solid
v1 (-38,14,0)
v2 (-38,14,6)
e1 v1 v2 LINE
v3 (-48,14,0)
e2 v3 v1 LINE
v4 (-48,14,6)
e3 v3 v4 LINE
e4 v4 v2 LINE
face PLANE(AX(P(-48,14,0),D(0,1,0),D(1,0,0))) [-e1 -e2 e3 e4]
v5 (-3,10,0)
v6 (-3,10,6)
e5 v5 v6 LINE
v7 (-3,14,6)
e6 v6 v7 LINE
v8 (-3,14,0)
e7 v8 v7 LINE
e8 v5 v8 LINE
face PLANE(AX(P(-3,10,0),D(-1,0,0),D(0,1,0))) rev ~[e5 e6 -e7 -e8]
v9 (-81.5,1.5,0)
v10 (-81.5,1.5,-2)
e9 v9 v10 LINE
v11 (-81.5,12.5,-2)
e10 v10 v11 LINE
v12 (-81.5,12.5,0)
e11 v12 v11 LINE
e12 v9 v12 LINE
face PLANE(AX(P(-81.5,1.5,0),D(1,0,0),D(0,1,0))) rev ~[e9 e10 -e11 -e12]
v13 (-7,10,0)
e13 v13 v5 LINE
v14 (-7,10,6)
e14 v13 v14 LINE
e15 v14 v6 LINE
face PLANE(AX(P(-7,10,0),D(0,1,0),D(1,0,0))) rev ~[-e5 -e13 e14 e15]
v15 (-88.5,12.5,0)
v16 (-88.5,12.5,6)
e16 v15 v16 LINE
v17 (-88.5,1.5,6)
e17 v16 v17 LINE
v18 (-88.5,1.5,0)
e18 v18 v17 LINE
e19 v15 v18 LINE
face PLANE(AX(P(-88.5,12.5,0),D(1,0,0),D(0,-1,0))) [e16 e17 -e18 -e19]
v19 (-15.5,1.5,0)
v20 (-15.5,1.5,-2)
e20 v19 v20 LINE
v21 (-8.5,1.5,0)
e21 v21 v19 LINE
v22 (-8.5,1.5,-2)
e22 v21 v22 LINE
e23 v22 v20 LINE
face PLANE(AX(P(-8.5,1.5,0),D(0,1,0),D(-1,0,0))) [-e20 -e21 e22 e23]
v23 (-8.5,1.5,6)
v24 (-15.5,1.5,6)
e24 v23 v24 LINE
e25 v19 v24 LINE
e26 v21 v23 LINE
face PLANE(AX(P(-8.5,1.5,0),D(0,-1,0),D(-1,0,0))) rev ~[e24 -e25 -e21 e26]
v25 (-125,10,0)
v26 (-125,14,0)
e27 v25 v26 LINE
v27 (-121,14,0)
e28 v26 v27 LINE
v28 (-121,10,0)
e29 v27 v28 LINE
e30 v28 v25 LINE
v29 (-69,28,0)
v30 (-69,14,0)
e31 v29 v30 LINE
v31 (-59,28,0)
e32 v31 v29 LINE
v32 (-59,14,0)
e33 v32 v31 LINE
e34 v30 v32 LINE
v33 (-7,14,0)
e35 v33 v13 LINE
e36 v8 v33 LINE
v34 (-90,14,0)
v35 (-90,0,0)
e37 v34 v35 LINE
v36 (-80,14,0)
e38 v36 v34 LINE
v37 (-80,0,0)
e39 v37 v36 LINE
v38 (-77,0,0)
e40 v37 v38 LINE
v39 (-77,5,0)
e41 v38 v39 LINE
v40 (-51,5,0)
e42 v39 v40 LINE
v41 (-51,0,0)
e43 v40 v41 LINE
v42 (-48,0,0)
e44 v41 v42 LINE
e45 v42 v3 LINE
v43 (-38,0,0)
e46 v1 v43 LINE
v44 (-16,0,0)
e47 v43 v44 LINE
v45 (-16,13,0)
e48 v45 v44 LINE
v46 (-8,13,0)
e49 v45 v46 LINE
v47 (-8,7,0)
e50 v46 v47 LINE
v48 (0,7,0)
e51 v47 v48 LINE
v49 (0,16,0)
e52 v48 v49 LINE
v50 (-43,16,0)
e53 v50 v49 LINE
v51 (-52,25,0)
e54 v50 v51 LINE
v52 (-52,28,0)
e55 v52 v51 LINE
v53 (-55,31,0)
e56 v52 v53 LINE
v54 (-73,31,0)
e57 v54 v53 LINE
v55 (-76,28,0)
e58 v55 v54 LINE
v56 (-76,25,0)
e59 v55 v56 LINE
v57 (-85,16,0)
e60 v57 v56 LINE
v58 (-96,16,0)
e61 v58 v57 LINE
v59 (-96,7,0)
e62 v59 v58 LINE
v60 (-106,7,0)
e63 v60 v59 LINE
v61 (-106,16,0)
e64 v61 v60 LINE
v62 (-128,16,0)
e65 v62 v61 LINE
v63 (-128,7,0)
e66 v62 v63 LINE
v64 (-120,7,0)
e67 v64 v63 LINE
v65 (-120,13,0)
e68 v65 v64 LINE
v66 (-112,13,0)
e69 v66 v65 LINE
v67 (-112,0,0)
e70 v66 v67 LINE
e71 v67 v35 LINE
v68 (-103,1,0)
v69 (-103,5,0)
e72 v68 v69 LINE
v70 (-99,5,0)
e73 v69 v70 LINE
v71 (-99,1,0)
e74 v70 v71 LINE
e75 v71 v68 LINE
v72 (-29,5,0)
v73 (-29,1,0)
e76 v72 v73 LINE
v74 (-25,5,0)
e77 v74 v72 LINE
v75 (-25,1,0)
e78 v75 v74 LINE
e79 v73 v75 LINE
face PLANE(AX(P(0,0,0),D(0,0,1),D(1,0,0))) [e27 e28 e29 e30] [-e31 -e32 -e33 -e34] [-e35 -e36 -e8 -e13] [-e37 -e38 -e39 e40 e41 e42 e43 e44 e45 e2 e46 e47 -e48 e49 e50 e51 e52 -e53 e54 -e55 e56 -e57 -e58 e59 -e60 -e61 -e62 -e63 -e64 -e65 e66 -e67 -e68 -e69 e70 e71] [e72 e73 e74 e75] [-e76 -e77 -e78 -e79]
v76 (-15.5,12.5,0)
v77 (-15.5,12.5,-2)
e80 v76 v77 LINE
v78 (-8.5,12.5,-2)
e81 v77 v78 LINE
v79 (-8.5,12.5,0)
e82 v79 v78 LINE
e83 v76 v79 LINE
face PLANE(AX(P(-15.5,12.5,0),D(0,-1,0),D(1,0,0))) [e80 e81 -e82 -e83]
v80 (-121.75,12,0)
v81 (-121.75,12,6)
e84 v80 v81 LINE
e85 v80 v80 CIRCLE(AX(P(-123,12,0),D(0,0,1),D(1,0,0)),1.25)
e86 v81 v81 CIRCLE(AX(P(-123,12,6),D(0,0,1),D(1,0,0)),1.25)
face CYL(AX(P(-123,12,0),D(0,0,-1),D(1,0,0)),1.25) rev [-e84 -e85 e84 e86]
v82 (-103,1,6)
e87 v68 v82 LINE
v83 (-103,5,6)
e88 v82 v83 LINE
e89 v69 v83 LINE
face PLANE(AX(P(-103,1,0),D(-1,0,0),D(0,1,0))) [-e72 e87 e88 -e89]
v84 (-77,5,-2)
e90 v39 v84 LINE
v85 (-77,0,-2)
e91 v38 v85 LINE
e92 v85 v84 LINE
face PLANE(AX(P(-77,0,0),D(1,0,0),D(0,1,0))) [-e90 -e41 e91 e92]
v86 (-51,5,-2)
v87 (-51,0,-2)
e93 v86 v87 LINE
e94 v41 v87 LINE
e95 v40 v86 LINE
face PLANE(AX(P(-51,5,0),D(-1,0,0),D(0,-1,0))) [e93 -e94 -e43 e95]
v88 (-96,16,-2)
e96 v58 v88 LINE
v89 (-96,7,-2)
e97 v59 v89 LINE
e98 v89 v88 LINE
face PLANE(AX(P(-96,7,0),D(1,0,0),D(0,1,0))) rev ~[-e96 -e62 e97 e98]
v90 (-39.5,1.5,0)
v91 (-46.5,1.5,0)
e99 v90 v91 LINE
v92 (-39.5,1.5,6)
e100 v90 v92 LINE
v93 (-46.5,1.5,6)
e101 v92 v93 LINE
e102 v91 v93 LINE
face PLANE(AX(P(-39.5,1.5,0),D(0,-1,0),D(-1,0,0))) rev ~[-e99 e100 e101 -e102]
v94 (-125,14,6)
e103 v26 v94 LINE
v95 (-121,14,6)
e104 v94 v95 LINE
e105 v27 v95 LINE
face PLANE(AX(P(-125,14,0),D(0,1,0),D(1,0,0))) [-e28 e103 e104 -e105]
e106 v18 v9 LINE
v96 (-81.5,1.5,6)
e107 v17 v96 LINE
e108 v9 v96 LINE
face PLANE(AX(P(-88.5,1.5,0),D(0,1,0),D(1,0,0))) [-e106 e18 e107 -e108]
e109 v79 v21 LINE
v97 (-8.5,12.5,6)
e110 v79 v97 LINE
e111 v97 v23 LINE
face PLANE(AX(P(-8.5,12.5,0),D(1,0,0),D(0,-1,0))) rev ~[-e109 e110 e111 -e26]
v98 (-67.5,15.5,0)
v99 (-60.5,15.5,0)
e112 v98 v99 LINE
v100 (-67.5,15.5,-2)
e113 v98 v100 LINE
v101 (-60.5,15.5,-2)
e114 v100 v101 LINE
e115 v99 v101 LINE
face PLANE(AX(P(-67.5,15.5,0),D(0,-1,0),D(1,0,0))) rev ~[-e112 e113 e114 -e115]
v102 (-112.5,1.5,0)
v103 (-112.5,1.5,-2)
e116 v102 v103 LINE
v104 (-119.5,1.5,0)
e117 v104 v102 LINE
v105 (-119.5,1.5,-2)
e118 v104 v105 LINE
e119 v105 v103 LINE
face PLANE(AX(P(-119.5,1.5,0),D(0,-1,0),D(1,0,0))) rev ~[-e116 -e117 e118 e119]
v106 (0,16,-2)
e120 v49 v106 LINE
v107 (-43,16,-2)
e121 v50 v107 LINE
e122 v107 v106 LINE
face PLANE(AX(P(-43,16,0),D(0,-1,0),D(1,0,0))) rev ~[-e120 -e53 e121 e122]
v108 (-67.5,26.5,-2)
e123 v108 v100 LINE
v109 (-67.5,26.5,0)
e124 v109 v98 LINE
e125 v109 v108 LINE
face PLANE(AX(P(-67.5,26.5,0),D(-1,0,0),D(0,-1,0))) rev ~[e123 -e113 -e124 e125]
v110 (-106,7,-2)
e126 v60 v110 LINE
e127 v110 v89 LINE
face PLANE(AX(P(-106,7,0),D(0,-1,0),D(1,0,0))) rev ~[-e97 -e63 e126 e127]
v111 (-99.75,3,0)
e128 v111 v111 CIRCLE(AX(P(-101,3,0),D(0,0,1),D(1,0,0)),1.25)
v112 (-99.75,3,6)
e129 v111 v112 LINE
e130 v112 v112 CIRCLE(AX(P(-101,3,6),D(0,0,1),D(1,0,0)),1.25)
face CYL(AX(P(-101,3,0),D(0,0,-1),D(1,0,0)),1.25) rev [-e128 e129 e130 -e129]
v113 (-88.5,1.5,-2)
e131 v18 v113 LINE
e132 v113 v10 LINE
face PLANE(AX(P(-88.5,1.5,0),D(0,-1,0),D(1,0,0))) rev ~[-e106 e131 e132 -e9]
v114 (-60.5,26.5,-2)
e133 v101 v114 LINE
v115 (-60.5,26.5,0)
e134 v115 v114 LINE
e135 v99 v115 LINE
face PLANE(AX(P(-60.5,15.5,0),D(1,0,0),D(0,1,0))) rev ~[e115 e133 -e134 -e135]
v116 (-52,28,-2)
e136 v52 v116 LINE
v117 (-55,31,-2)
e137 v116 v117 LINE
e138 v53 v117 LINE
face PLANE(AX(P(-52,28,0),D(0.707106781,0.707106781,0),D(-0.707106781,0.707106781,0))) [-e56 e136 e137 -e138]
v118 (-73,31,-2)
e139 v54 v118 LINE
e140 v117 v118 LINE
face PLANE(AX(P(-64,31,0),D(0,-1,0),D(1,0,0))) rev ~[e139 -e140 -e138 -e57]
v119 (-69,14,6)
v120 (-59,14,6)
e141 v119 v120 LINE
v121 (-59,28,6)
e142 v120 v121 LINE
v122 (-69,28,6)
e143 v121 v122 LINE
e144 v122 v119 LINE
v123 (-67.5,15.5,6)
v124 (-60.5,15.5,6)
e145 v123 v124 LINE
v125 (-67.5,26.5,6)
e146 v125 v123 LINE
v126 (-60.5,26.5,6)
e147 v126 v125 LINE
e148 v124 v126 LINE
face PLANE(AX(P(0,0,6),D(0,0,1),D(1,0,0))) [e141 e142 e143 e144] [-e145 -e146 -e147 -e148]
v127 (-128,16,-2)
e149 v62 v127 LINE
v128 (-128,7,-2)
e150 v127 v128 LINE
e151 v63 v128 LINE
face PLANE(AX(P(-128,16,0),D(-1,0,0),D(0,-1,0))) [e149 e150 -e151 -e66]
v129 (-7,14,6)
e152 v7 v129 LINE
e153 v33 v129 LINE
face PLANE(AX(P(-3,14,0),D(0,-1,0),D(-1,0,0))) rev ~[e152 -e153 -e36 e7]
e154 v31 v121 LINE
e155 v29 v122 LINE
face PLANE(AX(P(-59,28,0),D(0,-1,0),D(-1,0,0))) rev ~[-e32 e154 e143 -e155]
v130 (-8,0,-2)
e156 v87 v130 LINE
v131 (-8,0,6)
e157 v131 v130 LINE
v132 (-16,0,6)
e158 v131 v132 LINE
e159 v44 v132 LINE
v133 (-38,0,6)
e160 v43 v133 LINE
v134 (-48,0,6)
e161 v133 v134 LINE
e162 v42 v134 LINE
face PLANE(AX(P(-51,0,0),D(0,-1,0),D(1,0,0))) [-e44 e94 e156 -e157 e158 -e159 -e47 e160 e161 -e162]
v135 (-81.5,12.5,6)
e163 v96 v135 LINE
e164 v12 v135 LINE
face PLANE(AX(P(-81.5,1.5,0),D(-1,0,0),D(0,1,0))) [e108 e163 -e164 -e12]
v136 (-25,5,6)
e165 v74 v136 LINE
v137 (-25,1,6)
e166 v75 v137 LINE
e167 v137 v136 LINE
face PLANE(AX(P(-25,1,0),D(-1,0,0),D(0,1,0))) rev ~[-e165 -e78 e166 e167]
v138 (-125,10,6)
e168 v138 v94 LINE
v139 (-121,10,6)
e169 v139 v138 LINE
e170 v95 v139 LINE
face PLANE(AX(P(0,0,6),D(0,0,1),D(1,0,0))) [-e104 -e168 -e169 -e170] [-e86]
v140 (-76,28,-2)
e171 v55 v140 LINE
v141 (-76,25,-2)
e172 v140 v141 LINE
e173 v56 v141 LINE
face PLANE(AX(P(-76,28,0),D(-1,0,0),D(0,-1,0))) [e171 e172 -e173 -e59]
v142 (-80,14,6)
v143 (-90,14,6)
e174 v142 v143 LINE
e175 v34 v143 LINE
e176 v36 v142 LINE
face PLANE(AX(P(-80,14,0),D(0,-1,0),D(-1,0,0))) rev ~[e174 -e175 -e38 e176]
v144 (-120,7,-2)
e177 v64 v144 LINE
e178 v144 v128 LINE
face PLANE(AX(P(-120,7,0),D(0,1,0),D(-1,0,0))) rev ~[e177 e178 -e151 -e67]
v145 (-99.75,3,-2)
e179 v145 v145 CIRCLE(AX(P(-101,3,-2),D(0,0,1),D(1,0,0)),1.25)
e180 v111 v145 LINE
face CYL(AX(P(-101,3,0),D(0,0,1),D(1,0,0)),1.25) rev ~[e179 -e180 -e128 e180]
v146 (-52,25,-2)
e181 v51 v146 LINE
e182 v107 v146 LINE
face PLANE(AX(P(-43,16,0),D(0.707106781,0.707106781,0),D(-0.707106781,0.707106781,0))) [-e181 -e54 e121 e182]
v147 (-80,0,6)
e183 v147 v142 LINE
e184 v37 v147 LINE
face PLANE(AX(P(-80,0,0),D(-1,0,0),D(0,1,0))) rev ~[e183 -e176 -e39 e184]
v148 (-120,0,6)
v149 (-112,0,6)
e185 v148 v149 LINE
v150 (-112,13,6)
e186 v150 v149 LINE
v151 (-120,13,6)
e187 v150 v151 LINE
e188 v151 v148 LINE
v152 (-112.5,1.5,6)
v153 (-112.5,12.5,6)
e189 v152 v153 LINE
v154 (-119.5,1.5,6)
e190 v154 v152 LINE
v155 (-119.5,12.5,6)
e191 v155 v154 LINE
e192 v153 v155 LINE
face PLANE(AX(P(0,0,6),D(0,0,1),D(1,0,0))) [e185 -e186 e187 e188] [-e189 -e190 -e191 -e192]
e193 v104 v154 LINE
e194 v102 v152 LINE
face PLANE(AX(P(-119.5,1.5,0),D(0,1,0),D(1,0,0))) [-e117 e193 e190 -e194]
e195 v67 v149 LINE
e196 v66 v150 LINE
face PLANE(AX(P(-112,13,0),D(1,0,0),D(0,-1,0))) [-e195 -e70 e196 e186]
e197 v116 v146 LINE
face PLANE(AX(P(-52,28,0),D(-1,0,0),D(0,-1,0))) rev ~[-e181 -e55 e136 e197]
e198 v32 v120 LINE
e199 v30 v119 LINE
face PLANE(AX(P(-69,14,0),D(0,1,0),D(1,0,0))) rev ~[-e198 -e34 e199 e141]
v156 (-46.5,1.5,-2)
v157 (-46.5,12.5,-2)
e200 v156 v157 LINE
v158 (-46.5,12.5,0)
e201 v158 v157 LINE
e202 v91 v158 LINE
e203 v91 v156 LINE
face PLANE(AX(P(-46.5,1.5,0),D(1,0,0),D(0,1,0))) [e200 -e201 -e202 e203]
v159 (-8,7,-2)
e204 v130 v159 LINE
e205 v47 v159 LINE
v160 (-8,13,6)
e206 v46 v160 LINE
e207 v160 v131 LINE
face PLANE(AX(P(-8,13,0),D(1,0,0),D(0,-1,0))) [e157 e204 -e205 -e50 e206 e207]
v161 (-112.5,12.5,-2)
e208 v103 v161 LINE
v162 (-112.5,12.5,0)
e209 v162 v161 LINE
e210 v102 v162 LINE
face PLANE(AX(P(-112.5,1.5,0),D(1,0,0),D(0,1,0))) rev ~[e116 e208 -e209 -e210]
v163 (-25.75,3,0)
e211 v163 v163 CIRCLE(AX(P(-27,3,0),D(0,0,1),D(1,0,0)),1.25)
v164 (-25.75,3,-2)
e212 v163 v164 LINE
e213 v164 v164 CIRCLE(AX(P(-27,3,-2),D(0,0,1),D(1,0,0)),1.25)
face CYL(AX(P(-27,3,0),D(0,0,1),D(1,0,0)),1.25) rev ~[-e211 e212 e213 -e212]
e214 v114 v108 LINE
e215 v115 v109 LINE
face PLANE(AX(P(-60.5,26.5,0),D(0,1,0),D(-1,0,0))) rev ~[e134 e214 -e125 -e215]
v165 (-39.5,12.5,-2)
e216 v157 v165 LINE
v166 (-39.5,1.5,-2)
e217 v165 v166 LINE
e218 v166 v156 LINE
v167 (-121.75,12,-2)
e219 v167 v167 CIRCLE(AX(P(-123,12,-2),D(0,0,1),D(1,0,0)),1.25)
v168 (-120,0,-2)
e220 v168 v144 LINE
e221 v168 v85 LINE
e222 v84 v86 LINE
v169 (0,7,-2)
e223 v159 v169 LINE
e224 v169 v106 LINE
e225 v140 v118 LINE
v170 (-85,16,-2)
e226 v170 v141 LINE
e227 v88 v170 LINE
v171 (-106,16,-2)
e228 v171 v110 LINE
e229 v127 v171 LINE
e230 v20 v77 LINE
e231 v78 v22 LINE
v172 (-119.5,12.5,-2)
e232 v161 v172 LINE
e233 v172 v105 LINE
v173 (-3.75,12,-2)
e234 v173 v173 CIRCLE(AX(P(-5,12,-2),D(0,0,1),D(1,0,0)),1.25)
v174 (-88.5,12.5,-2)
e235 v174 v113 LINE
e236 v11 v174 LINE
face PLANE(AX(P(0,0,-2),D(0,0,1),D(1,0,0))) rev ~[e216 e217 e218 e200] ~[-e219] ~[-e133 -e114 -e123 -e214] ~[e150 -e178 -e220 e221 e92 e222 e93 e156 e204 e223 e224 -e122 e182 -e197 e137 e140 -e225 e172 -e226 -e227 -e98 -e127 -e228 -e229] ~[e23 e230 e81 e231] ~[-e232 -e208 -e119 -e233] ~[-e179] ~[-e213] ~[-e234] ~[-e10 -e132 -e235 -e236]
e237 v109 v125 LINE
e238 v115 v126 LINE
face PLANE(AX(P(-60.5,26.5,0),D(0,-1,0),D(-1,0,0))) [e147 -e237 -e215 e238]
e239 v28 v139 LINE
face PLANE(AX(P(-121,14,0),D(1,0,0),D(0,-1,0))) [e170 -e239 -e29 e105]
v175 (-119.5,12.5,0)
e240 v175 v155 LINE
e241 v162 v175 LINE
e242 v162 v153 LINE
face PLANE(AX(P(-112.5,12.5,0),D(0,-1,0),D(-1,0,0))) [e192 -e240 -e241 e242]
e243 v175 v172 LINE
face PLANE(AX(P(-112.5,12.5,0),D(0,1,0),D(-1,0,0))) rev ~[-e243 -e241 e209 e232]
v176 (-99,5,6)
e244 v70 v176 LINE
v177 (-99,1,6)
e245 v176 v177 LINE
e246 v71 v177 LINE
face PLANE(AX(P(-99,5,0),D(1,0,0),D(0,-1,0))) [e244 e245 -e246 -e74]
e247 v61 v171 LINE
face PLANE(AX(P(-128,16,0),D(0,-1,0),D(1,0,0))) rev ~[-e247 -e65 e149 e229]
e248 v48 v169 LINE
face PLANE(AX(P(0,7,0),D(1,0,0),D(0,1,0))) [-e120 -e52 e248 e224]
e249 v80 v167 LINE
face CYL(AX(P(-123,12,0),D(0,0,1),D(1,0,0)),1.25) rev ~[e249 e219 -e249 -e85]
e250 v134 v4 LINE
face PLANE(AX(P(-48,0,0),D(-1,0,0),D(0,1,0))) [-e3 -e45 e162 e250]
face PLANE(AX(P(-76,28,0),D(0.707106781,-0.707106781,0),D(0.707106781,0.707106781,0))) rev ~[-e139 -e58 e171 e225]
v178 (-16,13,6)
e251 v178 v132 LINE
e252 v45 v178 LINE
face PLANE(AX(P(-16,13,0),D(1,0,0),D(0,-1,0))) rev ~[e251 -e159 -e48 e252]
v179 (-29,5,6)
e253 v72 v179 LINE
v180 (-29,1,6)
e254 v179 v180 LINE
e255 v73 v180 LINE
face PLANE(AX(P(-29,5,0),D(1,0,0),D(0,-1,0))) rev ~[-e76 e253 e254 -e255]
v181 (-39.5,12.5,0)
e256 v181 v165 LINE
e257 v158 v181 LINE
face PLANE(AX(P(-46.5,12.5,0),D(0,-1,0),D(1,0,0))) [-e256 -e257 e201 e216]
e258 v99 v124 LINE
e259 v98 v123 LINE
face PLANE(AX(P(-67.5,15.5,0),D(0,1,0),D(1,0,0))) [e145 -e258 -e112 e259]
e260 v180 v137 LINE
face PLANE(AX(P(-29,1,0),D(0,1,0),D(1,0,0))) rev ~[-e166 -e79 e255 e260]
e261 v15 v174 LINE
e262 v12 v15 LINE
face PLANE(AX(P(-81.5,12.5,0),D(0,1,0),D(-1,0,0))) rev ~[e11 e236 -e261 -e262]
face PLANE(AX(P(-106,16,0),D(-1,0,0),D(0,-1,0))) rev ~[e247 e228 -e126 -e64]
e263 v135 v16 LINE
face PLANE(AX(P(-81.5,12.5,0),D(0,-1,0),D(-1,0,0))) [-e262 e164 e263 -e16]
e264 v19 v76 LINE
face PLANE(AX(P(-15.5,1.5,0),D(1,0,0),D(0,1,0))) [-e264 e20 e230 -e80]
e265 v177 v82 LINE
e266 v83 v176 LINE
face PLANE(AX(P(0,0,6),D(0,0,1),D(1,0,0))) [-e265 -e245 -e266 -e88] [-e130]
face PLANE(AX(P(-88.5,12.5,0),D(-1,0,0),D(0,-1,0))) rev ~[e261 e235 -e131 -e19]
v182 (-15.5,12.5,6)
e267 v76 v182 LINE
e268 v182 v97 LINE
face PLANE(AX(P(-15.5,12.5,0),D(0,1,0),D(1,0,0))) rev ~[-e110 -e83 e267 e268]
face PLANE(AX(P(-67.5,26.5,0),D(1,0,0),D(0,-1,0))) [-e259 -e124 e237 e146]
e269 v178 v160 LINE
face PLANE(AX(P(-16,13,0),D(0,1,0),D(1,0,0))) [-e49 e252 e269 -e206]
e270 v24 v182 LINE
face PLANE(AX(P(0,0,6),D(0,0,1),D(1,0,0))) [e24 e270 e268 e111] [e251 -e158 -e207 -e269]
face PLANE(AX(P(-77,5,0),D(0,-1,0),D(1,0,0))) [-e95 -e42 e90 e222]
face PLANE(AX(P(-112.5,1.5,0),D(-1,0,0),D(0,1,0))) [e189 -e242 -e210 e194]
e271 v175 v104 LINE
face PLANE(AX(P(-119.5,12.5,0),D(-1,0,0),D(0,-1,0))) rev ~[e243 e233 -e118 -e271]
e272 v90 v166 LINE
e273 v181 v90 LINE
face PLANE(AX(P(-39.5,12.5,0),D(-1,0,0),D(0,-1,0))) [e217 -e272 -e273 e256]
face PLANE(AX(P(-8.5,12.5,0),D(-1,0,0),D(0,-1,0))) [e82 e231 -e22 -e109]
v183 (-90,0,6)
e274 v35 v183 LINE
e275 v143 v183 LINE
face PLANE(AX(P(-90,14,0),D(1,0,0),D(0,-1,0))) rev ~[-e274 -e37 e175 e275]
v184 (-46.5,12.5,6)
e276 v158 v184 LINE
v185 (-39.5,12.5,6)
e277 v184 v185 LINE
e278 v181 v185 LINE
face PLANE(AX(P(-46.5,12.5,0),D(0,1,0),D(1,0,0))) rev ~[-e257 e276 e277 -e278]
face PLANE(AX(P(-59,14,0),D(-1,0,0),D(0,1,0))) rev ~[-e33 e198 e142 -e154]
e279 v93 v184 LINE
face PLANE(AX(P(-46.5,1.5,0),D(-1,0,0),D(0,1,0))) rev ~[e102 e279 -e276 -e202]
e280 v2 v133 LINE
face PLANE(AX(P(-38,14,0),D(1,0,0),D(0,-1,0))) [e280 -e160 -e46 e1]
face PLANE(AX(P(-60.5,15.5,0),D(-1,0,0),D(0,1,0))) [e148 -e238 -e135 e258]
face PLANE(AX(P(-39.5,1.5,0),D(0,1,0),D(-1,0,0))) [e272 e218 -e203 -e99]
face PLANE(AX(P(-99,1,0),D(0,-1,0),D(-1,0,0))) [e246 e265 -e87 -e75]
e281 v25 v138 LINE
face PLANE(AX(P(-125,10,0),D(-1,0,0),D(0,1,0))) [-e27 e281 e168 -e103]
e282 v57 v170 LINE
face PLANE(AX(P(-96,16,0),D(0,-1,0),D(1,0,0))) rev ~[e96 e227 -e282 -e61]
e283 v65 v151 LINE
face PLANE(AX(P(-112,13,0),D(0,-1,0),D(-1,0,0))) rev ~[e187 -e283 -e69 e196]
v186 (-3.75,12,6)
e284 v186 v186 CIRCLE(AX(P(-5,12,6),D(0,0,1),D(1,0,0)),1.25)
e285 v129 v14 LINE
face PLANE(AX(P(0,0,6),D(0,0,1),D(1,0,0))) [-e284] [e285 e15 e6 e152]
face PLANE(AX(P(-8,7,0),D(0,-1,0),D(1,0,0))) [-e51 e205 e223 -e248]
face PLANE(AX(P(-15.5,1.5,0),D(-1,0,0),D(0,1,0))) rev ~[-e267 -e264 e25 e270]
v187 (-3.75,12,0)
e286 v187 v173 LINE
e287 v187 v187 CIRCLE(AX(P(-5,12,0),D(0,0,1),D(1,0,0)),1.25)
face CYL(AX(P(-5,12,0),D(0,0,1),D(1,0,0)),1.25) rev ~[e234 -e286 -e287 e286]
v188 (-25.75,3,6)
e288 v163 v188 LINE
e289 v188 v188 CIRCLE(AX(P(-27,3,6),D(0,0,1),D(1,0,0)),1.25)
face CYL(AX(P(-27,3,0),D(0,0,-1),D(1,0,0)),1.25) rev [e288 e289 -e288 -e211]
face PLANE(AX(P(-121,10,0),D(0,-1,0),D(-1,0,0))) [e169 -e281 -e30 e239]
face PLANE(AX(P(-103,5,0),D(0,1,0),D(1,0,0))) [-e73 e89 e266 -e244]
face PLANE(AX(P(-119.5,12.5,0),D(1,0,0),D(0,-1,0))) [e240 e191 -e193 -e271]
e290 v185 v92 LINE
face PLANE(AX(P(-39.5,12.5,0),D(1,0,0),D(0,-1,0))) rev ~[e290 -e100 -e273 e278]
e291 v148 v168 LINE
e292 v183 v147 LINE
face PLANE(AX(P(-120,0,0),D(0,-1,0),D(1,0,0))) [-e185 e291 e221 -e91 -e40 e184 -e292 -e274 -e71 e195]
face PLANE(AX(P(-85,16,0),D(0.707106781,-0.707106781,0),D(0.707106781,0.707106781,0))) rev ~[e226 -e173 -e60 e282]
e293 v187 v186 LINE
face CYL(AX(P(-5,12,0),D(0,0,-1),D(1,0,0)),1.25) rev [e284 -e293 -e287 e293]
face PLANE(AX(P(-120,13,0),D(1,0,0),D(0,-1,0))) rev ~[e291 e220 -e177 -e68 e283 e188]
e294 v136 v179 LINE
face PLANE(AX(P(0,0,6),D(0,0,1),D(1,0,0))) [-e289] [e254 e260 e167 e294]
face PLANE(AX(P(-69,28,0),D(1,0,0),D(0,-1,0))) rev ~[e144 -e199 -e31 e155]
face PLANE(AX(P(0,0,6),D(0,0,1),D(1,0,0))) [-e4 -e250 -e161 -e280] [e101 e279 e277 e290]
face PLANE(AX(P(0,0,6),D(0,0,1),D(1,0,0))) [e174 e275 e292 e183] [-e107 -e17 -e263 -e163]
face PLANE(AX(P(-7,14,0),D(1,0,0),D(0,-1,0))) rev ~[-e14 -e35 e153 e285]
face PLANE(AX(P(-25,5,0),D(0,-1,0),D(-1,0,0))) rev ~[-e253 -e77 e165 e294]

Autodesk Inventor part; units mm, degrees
ref_plane "YZ Plane" through (0, 0, 0) normal (1, 0, 0) x (0, 1, 0)
ref_plane "XZ Plane" through (0, 0, 0) normal (0, 1, 0) x (-1, 0, 0)
ref_plane "XY Plane" through (0, 0, 0) normal (0, 0, 1) x (1, 0, 0)
sketch "Sketch1" plane through (0, 0, 0) normal (0, 0, 1) x (1, 0, 0)
  line L0 (-64, 31) -> (-73, 31)
  line L1 (-76, 28) -> (-76, 25)
  line L2 (-85, 16) -> (-76, 25)
  line L3 (-76, 28) -> (-73, 31)
  line L4 (-64, 31) -> (-55, 31)
  line L5 (-52, 28) -> (-52, 25)
  line L6 (-43, 16) -> (-52, 25)
  line L7 (-52, 28) -> (-55, 31)
  line L8 (-43, 16) -> (0, 16)
  line L9 (-77, 0) -> (-77, 5)
  line L10 (-77, 5) -> (-51, 5)
  line L11 (-51, 5) -> (-51, 0)
  line L12 (-106, 16) -> (-106, 7)
  line L13 (-106, 7) -> (-96, 7)
  line L14 (-96, 7) -> (-96, 16)
  line L15 (-128, 16) -> (-106, 16)
  line L16 (-96, 16) -> (-85, 16)
  line L17 (-120, 0) -> (-120, 7)
  line L18 (-120, 7) -> (-128, 7)
  line L19 (-120, 0) -> (-77, 0)
  line L20 (-128, 16) -> (-128, 7)
  line L21 (-8, 0) -> (-8, 7)
  line L22 (-8, 7) -> (0, 7)
  line L23 (-51, 0) -> (-8, 0)
  line L24 (0, 7) -> (0, 16)
  point P0 (0, 0)
  dimension "d0" = 128
  dimension "d6" = 3
  dimension "d67" = 5
  dimension "d71" = 22
  dimension "d74" = 9
  dimension "d75" = 10
  dimension "d93" = 7
  dimension "d94" = 8
  dimension "d95" = 7
extrude "Extrusion1" add sketch "Sketch1" against normal blind 2
sketch "Sketch2" plane through (0, 0, 0) normal (0, 0, 1) x (1, 0, 0)
  line L0 (-121, 10) -> (-125, 10)
  line L1 (-125, 10) -> (-125, 14)
  line L2 (-125, 14) -> (-121, 14)
  line L3 (-121, 14) -> (-121, 10)
  line L4 (-90, 0) -> (-80, 0)
  line L5 (-80, 0) -> (-80, 14)
  line L6 (-80, 14) -> (-90, 14)
  line L7 (-90, 14) -> (-90, 0)
  line L8 (-99, 1) -> (-103, 1)
  line L9 (-103, 1) -> (-103, 5)
  line L10 (-103, 5) -> (-99, 5)
  line L11 (-99, 5) -> (-99, 1)
  line L12 (-7, 10) -> (-3, 10)
  line L13 (-3, 10) -> (-3, 14)
  line L14 (-3, 14) -> (-7, 14)
  line L15 (-7, 14) -> (-7, 10)
  line L16 (-29, 1) -> (-25, 1)
  line L17 (-25, 1) -> (-25, 5)
  line L18 (-25, 5) -> (-29, 5)
  line L19 (-29, 5) -> (-29, 1)
  line L20 (-112, 13) -> (-120, 13)
  line L21 (-120, 13) -> (-120, 0)
  line L22 (-112, 13) -> (-112, 0)
  circle A0 centre (-123, 12) radius 1.25
  circle A1 centre (-101, 3) radius 1.25
  circle A2 centre (-27, 3) radius 1.25
  circle A3 centre (-5, 12) radius 1.25
  line L23 (-120, 0) -> (-112, 0)
  line L24 (-119.5, 12.5) -> (-119.5, 1.5)
  line L25 (-119.5, 1.5) -> (-112.5, 1.5)
  line L26 (-112.5, 1.5) -> (-112.5, 12.5)
  line L27 (-112.5, 12.5) -> (-119.5, 12.5)
  line L28 (-88.5, 12.5) -> (-88.5, 1.5)
  line L29 (-88.5, 1.5) -> (-81.5, 1.5)
  line L30 (-81.5, 1.5) -> (-81.5, 12.5)
  line L31 (-81.5, 12.5) -> (-88.5, 12.5)
  line L32 (-69, 14) -> (-59, 14)
  line L33 (-59, 14) -> (-59, 28)
  line L34 (-59, 28) -> (-69, 28)
  line L35 (-69, 28) -> (-69, 14)
  line L36 (-67.5, 26.5) -> (-67.5, 15.5)
  line L37 (-67.5, 15.5) -> (-60.5, 15.5)
  line L38 (-60.5, 15.5) -> (-60.5, 26.5)
  line L39 (-60.5, 26.5) -> (-67.5, 26.5)
  line L40 (-38, 0) -> (-48, 0)
  line L41 (-48, 0) -> (-48, 14)
  line L42 (-48, 14) -> (-38, 14)
  line L43 (-38, 14) -> (-38, 0)
  line L44 (-16, 13) -> (-8, 13)
  line L45 (-8, 13) -> (-8, 0)
  line L46 (-16, 13) -> (-16, 0)
  line L47 (-8, 0) -> (-16, 0)
  line L48 (-8.5, 12.5) -> (-8.5, 1.5)
  line L49 (-8.5, 1.5) -> (-15.5, 1.5)
  line L50 (-15.5, 1.5) -> (-15.5, 12.5)
  line L51 (-15.5, 12.5) -> (-8.5, 12.5)
  line L52 (-39.5, 12.5) -> (-39.5, 1.5)
  line L53 (-39.5, 1.5) -> (-46.5, 1.5)
  line L54 (-46.5, 1.5) -> (-46.5, 12.5)
  line L55 (-46.5, 12.5) -> (-39.5, 12.5)
  dimension "d49" = 2.5
  dimension "d50" = 2.5
  dimension "d51" = 2.5
  dimension "d52" = 2.5
  dimension "d69" = 13
sketch "Sketch10" plane through (0, 0, 0) normal (0, 0, 1) x (1, 0, 0)
  line L0 (-121, 10) -> (-125, 10)
  line L1 (-125, 10) -> (-125, 14)
  line L2 (-125, 14) -> (-121, 14)
  line L3 (-121, 14) -> (-121, 10)
  line L4 (-25, 1) -> (-25, 5)
  line L5 (-7, 14) -> (-7, 10)
  line L6 (-7, 10) -> (-3, 10)
  line L7 (-3, 10) -> (-3, 14)
  line L8 (-3, 14) -> (-7, 14)
  line L9 (-29, 1) -> (-25, 1)
  line L10 (-25, 5) -> (-29, 5)
  line L11 (-29, 5) -> (-29, 1)
  circle A0 centre (-123, 12) radius 1.25
  circle A1 centre (-27, 3) radius 1.25
  circle A2 centre (-5, 12) radius 1.25
  line L12 (-90, 0) -> (-80, 0)
  line L13 (-80, 0) -> (-80, 14)
  line L14 (-80, 14) -> (-90, 14)
  line L15 (-90, 14) -> (-90, 0)
  line L16 (-99, 1) -> (-103, 1)
  line L17 (-103, 1) -> (-103, 5)
  line L18 (-103, 5) -> (-99, 5)
  line L19 (-99, 5) -> (-99, 1)
  line L20 (-112, 13) -> (-120, 13)
  line L21 (-120, 13) -> (-120, 0)
  line L22 (-112, 13) -> (-112, 0)
  circle A3 centre (-101, 3) radius 1.25
  line L23 (-120, 0) -> (-112, 0)
  line L24 (-119.5, 12.5) -> (-119.5, 1.5)
  line L25 (-119.5, 1.5) -> (-112.5, 1.5)
  line L26 (-112.5, 1.5) -> (-112.5, 12.5)
  line L27 (-112.5, 12.5) -> (-119.5, 12.5)
  line L28 (-88.5, 12.5) -> (-88.5, 1.5)
  line L29 (-88.5, 1.5) -> (-81.5, 1.5)
  line L30 (-81.5, 1.5) -> (-81.5, 12.5)
  line L31 (-81.5, 12.5) -> (-88.5, 12.5)
  line L32 (-69, 14) -> (-59, 14)
  line L33 (-59, 14) -> (-59, 28)
  line L34 (-59, 28) -> (-69, 28)
  line L35 (-69, 28) -> (-69, 14)
  line L36 (-67.5, 26.5) -> (-67.5, 15.5)
  line L37 (-60.5, 26.5) -> (-67.5, 26.5)
  line L38 (-60.5, 15.5) -> (-60.5, 26.5)
  line L39 (-67.5, 15.5) -> (-60.5, 15.5)
  line L40 (-15.5, 1.5) -> (-15.5, 12.5)
  line L41 (-16, 13) -> (-16, 0)
  line L42 (-8.5, 1.5) -> (-15.5, 1.5)
  line L43 (-8, 0) -> (-16, 0)
  line L44 (-8.5, 12.5) -> (-8.5, 1.5)
  line L45 (-8, 13) -> (-8, 0)
  line L46 (-15.5, 12.5) -> (-8.5, 12.5)
  line L47 (-16, 13) -> (-8, 13)
  line L48 (-38, 0) -> (-48, 0)
  line L49 (-48, 0) -> (-48, 14)
  line L50 (-48, 14) -> (-38, 14)
  line L51 (-38, 14) -> (-38, 0)
  line L52 (-39.5, 12.5) -> (-39.5, 1.5)
  line L53 (-39.5, 1.5) -> (-46.5, 1.5)
  line L54 (-46.5, 1.5) -> (-46.5, 12.5)
  line L55 (-46.5, 12.5) -> (-39.5, 12.5)
  point P0 (-100.5385, 17.107)
  point P1 (-110.5385, 3.107)
  point P2 (-100.5385, 3.107)
  point P3 (-141.5385, 3.107)
  point P4 (-131.5385, 3.107)
  point P5 (-183.5385, 3.107)
  point P6 (-173.5385, 3.107)
  point P7 (-214.5385, 3.107)
  point P8 (-204.5385, 3.107)
  point P9 (-214.5385, 17.107)
  point P10 (0, 16)
  point P11 (0, 0)
  dimension "d62" = 2.5
  dimension "d64" = 2.5
  dimension "d65" = 2.5
extrude "Extrusion2" cut sketch "Sketch2" against normal blind 2 contours A0 | A1 | A2 | A3 | L27 L26 L25 L24 | L31 L30 L29 L28 | L39 L38 L37 L36 | L48 L49 L50 L51 | L52 L53 L54 L55
extrude "Extrusion7" add sketch "Sketch10" along normal blind 6
properties part number "Infravermelhos_revisto_2"
